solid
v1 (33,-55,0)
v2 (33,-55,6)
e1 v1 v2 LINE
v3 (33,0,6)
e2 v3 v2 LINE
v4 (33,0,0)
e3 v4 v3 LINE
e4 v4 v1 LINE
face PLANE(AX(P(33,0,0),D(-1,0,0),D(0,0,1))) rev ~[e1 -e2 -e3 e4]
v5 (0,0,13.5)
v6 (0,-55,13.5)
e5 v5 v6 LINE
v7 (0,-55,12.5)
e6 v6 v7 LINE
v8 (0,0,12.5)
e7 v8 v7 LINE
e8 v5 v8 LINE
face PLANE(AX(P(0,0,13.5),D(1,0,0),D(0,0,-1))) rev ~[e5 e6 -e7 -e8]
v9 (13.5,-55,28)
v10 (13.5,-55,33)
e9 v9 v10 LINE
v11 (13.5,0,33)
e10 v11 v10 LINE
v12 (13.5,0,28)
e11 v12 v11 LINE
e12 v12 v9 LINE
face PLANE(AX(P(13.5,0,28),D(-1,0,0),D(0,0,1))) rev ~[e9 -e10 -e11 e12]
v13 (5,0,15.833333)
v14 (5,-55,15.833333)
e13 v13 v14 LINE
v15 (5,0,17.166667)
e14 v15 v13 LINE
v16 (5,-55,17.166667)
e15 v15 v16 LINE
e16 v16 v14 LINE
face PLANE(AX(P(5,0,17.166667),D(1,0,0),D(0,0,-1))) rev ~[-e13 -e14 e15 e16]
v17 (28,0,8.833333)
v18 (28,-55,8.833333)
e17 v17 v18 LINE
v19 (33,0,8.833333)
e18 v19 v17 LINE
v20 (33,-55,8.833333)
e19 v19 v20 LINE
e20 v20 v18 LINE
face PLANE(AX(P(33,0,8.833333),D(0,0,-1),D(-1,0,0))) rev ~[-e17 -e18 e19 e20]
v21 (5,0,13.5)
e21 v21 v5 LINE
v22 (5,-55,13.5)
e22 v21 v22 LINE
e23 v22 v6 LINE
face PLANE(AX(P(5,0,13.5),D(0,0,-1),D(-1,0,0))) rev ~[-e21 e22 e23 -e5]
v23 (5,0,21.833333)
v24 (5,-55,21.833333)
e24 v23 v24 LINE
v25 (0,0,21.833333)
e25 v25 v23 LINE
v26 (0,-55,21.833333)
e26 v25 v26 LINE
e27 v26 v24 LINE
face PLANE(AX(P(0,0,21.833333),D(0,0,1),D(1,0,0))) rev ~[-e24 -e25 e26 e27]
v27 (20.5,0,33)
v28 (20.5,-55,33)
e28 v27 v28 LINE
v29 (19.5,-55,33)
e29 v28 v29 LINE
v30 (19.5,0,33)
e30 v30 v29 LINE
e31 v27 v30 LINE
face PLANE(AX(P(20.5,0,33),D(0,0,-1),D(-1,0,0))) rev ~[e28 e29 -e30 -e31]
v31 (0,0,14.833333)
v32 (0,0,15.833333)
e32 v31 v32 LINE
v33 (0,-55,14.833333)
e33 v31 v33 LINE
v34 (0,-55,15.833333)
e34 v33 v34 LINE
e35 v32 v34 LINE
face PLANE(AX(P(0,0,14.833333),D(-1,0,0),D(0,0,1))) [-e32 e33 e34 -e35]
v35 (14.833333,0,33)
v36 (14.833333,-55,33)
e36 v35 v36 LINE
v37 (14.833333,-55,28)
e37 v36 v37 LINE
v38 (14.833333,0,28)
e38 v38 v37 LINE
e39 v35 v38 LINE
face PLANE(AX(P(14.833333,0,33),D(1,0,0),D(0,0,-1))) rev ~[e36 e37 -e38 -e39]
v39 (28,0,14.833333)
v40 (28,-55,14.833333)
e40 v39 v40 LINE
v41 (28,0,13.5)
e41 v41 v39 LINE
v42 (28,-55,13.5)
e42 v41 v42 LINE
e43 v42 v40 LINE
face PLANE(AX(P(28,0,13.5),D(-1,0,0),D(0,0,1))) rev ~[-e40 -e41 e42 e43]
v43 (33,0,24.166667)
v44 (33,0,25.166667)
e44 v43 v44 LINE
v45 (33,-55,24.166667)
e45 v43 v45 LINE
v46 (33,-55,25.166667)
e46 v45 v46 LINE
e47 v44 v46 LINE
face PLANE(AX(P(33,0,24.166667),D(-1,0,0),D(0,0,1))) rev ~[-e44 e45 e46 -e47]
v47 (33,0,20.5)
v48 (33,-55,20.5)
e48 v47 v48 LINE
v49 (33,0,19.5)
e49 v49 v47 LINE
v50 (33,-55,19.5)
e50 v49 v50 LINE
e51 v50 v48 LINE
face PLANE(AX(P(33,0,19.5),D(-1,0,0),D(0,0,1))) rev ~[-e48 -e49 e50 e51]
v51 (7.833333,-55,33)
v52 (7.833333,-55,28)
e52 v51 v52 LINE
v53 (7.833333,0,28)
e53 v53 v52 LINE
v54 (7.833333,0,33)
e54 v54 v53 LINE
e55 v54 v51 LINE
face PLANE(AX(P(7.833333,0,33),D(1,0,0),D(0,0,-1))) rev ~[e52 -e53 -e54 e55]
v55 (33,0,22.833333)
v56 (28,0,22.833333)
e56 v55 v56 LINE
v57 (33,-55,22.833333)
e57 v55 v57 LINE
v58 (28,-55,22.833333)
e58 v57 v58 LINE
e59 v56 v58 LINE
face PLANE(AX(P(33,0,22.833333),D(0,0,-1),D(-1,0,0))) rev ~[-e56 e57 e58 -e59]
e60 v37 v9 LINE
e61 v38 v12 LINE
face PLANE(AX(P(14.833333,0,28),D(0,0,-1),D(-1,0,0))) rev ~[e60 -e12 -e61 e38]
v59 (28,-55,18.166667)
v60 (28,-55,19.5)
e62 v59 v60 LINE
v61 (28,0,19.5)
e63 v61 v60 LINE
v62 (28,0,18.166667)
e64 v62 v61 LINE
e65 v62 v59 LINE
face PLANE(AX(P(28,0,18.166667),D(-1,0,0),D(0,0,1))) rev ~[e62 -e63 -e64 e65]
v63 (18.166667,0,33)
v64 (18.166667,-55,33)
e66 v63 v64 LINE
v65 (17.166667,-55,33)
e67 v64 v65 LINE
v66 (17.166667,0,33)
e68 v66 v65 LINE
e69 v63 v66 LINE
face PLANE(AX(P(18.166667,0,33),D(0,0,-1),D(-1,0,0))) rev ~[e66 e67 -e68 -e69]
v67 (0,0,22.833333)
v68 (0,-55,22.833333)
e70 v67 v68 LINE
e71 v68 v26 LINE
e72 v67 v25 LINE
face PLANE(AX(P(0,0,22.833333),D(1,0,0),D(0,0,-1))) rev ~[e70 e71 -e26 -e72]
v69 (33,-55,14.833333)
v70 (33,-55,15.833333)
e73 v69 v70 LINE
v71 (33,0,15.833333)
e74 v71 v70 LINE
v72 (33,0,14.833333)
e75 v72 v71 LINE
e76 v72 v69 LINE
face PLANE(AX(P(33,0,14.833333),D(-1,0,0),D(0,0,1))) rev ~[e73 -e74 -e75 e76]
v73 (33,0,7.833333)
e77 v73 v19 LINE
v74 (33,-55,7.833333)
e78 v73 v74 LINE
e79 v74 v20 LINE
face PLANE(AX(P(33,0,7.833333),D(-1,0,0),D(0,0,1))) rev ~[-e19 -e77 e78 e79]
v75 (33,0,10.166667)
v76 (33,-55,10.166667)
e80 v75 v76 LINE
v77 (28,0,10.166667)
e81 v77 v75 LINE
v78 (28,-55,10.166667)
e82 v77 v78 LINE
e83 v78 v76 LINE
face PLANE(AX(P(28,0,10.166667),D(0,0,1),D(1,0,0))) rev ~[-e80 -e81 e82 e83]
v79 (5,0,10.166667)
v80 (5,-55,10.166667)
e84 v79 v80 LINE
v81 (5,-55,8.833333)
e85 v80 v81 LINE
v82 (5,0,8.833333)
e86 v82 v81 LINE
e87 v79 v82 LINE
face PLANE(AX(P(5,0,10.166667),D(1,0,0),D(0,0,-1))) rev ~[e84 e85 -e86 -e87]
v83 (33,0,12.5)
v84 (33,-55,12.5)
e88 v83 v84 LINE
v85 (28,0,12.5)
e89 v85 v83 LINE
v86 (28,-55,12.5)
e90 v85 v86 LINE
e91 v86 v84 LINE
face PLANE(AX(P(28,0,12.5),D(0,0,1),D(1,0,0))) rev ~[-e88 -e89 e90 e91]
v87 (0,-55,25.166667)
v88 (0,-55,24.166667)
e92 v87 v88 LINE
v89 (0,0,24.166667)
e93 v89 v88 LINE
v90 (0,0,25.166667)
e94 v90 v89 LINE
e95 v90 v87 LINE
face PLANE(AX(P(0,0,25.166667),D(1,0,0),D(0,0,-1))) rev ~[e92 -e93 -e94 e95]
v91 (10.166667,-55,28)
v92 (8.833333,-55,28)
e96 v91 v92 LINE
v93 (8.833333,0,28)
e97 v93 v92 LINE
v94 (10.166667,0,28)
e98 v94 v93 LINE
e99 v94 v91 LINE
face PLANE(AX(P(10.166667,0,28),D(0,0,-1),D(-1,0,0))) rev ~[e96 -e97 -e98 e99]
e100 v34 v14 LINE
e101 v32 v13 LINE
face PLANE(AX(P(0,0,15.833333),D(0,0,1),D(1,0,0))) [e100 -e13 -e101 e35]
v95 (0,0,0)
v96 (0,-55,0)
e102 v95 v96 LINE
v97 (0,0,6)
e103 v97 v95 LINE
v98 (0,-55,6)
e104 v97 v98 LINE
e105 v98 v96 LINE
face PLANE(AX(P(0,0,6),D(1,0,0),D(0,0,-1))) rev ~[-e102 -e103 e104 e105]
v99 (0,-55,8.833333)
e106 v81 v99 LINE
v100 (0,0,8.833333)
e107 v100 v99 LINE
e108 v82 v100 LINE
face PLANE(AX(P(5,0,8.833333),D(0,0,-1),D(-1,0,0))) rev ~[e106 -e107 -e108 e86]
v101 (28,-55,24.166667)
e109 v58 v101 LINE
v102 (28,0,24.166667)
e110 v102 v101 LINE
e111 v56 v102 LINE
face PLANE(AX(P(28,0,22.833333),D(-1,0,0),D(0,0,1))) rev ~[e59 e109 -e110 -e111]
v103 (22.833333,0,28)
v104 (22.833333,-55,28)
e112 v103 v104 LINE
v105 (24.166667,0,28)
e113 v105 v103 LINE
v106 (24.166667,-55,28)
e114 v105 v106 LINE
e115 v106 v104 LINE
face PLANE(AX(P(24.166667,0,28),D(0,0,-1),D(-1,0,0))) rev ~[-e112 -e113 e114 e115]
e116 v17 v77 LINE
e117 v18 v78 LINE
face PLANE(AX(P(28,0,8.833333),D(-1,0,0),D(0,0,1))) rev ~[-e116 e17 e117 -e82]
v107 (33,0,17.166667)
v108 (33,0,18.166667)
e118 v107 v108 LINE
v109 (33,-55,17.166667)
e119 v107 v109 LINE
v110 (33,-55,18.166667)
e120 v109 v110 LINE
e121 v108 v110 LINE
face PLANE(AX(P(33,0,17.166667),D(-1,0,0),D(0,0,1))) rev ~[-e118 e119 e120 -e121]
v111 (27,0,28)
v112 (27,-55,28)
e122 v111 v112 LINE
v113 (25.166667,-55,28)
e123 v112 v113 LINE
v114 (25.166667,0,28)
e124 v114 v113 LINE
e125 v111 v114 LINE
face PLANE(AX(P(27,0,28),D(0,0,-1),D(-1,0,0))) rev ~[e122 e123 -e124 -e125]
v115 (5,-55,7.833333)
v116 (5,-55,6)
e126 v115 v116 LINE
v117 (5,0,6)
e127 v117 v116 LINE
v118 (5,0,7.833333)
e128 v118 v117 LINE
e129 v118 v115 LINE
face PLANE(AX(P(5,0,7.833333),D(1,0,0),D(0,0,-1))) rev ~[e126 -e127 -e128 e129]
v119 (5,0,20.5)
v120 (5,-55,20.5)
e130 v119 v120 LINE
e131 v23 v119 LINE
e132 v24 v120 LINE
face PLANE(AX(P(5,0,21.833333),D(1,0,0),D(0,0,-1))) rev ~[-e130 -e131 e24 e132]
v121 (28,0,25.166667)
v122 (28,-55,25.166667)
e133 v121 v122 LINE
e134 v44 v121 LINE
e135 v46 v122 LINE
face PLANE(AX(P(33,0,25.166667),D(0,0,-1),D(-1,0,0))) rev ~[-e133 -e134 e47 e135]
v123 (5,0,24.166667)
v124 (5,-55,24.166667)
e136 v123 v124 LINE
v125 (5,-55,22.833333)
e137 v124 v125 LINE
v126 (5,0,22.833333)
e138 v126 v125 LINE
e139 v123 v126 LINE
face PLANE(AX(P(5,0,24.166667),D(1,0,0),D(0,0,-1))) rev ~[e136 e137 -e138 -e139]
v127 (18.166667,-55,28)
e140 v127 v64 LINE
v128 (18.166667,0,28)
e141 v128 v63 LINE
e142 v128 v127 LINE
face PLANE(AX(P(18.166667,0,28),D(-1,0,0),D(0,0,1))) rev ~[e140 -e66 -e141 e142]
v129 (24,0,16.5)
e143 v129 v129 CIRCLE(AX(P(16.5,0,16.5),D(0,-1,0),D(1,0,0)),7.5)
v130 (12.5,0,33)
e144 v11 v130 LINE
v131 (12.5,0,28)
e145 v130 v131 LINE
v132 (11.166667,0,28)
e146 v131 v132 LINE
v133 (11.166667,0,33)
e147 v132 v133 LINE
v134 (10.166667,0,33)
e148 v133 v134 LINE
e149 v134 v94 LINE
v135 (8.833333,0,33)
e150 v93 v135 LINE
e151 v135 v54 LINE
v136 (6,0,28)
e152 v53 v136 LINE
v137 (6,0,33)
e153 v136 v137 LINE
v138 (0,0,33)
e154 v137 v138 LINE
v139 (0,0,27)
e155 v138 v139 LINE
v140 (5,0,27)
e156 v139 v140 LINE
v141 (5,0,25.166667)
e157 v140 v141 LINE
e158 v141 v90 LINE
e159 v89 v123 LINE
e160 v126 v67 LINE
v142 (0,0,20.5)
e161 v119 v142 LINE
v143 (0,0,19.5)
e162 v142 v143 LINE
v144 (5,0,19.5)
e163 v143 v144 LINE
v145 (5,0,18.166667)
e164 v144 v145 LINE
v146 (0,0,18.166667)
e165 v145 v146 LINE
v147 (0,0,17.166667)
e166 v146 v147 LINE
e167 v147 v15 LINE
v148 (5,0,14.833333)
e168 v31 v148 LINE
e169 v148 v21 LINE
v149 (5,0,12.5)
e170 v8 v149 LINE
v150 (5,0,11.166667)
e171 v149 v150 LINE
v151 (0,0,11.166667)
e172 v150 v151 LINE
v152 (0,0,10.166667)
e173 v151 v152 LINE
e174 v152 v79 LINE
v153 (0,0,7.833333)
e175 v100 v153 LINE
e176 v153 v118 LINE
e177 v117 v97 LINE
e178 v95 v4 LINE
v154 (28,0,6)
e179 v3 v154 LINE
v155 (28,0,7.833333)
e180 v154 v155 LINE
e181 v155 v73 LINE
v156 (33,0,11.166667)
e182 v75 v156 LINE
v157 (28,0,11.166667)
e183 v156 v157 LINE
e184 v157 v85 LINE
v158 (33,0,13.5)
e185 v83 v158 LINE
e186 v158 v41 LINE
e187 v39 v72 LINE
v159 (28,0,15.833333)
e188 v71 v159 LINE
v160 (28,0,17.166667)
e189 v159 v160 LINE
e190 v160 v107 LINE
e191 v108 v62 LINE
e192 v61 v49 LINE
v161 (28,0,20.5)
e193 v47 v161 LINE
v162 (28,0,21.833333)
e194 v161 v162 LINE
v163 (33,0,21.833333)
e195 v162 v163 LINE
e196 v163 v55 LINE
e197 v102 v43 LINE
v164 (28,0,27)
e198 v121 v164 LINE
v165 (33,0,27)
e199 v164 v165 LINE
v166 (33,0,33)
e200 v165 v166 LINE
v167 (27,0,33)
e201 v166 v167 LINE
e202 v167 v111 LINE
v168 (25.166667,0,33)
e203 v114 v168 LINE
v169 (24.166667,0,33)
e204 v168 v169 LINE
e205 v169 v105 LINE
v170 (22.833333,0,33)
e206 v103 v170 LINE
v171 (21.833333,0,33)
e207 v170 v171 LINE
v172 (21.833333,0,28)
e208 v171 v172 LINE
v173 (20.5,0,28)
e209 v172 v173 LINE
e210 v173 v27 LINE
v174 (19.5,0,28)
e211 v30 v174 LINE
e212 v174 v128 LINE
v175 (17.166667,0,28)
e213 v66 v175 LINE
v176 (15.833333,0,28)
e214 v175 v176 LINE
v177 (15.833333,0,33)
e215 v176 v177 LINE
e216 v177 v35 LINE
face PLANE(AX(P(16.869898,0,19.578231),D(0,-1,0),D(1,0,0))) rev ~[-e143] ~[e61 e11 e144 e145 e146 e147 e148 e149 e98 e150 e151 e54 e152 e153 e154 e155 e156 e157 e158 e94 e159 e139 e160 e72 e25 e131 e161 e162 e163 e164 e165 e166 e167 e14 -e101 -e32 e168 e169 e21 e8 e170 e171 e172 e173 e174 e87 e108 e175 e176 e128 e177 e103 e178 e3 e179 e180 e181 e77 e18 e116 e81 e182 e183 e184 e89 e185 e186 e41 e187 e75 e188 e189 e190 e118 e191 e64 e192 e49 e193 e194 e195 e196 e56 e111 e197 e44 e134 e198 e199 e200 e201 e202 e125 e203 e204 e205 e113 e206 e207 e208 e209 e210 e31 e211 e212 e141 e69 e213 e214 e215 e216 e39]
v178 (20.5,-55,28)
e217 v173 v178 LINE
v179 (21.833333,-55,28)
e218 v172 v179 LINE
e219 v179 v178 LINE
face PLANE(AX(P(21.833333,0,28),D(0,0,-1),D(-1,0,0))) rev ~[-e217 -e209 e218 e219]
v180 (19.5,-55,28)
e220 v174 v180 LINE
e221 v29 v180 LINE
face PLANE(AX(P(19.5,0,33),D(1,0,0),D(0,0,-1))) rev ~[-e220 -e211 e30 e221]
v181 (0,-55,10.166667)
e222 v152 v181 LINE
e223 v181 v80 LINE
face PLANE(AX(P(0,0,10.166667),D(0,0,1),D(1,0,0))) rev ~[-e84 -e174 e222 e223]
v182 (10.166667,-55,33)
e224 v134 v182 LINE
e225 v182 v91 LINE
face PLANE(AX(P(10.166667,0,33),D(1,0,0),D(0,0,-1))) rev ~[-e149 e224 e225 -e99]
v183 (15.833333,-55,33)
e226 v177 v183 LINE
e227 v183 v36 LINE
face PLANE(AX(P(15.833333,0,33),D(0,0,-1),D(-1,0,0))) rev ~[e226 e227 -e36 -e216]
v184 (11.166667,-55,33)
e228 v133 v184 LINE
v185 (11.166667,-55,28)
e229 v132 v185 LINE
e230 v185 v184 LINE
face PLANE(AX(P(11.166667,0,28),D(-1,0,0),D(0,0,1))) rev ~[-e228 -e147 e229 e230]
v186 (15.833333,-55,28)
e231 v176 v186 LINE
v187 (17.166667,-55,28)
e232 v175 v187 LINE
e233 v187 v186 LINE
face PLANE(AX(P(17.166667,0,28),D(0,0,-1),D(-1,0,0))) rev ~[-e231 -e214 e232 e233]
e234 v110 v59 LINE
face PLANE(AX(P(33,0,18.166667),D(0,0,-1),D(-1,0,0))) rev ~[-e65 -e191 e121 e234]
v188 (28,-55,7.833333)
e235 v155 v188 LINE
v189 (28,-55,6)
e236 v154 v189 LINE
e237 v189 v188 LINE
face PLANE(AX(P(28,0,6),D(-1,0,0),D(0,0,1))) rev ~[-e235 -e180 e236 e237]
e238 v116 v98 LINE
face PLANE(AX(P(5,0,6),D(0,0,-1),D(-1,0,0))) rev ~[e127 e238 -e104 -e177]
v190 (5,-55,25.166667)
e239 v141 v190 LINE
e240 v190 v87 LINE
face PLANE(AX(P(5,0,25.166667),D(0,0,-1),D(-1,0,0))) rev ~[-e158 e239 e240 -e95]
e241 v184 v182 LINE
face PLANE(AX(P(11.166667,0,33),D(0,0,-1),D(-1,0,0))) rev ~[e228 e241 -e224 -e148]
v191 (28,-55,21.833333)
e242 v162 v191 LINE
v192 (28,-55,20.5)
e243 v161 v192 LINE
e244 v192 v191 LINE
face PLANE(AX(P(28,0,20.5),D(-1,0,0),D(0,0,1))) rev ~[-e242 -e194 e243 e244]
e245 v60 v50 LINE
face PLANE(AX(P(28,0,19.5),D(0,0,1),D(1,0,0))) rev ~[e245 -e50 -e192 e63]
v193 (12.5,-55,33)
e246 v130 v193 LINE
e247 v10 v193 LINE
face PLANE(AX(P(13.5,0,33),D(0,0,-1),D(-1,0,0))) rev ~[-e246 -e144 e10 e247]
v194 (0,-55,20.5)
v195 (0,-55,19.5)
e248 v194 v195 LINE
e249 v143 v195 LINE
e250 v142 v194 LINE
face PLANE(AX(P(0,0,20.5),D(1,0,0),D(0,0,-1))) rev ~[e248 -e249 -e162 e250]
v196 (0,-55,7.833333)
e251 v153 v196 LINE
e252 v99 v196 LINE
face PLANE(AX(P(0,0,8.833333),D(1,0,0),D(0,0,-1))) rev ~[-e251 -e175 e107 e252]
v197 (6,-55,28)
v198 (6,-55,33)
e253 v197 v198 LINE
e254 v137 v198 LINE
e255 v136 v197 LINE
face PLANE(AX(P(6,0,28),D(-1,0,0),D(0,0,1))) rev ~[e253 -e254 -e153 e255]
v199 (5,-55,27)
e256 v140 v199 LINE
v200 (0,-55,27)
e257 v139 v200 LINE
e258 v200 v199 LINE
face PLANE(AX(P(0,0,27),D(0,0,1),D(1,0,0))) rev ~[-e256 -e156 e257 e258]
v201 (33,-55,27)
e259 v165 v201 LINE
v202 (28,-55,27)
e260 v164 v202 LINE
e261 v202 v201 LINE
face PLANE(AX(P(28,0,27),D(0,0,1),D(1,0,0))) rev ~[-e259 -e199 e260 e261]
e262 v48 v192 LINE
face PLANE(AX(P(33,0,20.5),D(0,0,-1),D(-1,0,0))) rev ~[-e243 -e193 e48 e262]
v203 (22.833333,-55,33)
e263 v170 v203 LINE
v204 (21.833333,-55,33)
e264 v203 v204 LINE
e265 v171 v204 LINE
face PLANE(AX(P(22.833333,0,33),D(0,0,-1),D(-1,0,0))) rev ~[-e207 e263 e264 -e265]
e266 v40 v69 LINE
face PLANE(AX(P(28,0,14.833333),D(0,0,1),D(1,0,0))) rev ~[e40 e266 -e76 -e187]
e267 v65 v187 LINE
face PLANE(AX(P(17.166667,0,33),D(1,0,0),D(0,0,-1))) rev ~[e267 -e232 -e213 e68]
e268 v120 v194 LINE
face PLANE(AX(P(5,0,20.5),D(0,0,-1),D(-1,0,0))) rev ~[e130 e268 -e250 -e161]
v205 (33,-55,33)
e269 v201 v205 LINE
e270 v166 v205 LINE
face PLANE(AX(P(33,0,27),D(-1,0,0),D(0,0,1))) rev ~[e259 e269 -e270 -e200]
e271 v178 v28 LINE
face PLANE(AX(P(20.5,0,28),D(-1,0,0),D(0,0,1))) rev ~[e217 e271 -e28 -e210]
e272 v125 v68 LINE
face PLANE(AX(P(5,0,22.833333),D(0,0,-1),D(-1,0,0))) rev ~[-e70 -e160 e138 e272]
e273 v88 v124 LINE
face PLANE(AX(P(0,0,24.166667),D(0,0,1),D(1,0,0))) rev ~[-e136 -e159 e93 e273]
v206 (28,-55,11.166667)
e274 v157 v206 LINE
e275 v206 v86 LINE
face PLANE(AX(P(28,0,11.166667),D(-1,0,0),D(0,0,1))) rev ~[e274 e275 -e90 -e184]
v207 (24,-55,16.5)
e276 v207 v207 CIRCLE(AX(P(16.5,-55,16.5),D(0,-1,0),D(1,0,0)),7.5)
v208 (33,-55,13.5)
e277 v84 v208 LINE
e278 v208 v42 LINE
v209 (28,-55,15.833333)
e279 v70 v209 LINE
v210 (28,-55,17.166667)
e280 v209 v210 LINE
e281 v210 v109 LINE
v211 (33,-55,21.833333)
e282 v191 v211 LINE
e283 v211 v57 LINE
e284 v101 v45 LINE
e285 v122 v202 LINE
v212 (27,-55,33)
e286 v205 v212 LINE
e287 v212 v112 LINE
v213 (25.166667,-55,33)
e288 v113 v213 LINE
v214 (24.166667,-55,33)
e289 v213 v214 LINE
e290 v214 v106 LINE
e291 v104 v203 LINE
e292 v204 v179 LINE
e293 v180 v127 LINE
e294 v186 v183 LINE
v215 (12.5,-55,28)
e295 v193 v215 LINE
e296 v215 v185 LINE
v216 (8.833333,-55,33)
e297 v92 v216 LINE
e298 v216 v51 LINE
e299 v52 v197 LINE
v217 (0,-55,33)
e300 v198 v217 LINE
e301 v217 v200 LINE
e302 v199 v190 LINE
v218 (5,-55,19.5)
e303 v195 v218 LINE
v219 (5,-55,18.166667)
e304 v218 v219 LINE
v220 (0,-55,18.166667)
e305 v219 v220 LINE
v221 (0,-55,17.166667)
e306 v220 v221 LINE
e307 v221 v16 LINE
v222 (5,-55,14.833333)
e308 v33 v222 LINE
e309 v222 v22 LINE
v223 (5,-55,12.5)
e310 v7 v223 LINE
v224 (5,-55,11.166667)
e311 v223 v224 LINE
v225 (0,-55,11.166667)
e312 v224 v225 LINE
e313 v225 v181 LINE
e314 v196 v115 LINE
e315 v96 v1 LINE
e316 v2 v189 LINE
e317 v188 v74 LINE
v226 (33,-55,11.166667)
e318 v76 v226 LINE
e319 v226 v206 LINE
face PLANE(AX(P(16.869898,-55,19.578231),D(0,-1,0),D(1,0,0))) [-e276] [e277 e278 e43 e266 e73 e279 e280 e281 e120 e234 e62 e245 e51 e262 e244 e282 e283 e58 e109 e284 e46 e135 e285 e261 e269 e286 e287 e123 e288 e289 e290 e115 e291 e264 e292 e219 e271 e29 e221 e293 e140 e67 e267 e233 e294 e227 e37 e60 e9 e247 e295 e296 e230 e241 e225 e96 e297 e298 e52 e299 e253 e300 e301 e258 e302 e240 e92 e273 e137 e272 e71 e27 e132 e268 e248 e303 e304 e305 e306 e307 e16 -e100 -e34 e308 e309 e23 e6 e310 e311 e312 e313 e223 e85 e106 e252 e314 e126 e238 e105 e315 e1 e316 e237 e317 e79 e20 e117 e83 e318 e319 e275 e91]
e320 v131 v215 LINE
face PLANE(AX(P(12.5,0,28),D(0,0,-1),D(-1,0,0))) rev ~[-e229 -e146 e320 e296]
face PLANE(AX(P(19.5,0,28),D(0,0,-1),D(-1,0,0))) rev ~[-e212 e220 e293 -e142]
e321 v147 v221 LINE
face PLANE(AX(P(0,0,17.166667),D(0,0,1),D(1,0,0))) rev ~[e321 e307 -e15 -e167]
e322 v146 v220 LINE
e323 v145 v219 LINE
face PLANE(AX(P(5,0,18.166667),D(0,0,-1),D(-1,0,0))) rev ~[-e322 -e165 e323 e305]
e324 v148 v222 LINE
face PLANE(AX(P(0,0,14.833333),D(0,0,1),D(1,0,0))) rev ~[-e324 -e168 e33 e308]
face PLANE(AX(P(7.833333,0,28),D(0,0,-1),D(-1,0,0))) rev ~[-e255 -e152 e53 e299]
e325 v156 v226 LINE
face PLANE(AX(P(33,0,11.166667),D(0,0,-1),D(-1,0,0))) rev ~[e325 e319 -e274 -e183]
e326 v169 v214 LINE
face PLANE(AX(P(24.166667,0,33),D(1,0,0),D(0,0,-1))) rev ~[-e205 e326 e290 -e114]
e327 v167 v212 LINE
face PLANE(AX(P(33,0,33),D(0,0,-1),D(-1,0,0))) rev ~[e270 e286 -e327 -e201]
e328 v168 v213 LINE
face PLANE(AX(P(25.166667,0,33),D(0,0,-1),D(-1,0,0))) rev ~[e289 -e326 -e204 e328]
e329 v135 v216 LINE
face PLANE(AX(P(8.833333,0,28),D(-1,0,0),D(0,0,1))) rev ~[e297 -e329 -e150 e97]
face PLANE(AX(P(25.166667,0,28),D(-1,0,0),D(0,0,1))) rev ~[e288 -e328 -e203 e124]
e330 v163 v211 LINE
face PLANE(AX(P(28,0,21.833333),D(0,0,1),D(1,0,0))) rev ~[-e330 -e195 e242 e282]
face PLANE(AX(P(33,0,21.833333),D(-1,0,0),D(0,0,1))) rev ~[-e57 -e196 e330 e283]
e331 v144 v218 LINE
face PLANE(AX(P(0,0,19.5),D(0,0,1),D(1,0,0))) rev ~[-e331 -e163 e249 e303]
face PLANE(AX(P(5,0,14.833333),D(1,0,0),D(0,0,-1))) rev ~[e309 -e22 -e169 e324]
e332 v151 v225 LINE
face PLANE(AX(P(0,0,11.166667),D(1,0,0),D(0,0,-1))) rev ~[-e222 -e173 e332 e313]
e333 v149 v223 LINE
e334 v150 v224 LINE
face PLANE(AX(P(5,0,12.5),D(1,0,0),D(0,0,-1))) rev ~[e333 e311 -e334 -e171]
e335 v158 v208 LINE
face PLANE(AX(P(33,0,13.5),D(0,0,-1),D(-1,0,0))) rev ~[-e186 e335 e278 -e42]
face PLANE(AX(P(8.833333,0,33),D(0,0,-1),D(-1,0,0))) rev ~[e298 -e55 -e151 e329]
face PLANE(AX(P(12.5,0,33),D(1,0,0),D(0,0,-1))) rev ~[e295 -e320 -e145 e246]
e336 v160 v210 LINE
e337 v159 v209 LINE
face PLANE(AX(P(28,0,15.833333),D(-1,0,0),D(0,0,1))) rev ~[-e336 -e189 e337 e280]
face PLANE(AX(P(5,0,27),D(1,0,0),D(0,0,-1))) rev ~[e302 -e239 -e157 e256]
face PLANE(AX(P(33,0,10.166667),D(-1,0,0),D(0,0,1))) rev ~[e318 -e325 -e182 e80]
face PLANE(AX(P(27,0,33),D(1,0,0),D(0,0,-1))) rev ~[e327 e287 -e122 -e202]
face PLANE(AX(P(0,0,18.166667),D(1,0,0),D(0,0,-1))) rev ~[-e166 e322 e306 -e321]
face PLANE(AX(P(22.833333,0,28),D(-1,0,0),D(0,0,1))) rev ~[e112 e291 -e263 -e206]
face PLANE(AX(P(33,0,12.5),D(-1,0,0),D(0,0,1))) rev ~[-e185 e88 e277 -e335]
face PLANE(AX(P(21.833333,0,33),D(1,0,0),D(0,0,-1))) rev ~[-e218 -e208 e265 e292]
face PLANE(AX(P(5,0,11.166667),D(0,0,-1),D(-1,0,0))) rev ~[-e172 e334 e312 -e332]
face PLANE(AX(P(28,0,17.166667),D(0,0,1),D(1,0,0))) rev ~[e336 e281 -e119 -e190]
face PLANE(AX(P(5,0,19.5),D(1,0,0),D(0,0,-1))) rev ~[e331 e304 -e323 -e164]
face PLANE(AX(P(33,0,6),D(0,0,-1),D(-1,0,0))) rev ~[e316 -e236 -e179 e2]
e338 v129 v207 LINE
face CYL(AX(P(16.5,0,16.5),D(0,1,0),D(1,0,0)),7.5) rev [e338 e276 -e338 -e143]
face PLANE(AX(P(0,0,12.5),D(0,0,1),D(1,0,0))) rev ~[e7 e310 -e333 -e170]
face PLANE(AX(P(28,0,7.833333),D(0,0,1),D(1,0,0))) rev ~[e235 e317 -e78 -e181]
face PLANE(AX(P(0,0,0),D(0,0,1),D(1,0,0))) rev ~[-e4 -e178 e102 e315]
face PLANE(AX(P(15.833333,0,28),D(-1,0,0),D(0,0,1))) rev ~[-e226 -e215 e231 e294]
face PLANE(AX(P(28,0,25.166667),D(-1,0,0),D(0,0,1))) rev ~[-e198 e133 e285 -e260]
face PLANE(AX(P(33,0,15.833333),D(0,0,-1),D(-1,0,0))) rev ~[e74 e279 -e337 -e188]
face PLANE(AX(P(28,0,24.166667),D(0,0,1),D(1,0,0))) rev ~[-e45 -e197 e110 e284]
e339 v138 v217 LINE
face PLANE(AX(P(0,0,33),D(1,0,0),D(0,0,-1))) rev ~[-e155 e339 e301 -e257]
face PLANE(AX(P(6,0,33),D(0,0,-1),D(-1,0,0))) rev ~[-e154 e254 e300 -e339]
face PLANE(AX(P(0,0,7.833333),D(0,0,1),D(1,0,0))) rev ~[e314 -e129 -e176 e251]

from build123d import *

# Parameters (mm, degrees)
F0_R     = 7.5
F0_W     = 5
F0_H     = 1
F1_DEPTH = 55


with BuildPart() as f1:
    # F0 (on Front) → F1 (new body)
    with BuildSketch(Plane.XZ):
        Polygon((0, 6), (0, 0), (33, 0), (33, 6), (28, 6), (28, 7.833333), (33, 7.833333), (33, 8.833333), (28, 8.833333), (28, 10.166667), (33, 10.166667), (33, 11.166667), (28, 11.166667), (28, 12.5), (33, 12.5), (33, 13.5), (28, 13.5), (28, 14.833333), (33, 14.833333), (33, 15.833333), (28, 15.833333), (28, 17.166667), (33, 17.166667), (33, 18.166667), (28, 18.166667), (28, 19.5), (33, 19.5), (33, 20.5), (28, 20.5), (28, 21.833333), (33, 21.833333), (33, 22.833333), (28, 22.833333), (28, 24.166667), (33, 24.166667), (33, 25.166667), (28, 25.166667), (28, 27), (33, 27), (33, 33), (27, 33), (27, 28), (25.166667, 28), (25.166667, 33), (24.166667, 33), (24.166667, 28), (22.833333, 28), (22.833333, 33), (21.833333, 33), (21.833333, 28), (20.5, 28), (20.5, 33), (19.5, 33), (19.5, 28), (18.166667, 28), (18.166667, 33), (17.166667, 33), (17.166667, 28), (15.833333, 28), (15.833333, 33), (14.833333, 33), (14.833333, 28), (13.5, 28), (13.5, 33), (12.5, 33), (12.5, 28), (11.166667, 28), (11.166667, 33), (10.166667, 33), (10.166667, 28), (8.833333, 28), (8.833333, 33), (7.833333, 33), (7.833333, 28), (6, 28), (6, 33), (0, 33), (0, 27), (5, 27), (5, 25.166667), (0, 25.166667), (0, 24.166667), (5, 24.166667), (5, 22.833333), (0, 22.833333), (0, 21.833333), (5, 21.833333), (5, 20.5), (0, 20.5), (0, 19.5), (5, 19.5), (5, 18.166667), (0, 18.166667), (0, 17.166667), (5, 17.166667), (5, 15.833333), (5, 14.833333), (5, 13.5), (0, 13.5), (0, 12.5), (5, 12.5), (5, 11.166667), (0, 11.166667), (0, 10.166667), (5, 10.166667), (5, 8.833333), (0, 8.833333), (0, 7.833333), (5, 7.833333), (5, 6), align=None)
        with Locations((16.5, 16.5)):
            Circle(F0_R, mode=Mode.SUBTRACT)
        with Locations((2.5, 15.333333)):
            Rectangle(F0_W, F0_H)
    extrude(amount=F1_DEPTH)


solid = f1.part
